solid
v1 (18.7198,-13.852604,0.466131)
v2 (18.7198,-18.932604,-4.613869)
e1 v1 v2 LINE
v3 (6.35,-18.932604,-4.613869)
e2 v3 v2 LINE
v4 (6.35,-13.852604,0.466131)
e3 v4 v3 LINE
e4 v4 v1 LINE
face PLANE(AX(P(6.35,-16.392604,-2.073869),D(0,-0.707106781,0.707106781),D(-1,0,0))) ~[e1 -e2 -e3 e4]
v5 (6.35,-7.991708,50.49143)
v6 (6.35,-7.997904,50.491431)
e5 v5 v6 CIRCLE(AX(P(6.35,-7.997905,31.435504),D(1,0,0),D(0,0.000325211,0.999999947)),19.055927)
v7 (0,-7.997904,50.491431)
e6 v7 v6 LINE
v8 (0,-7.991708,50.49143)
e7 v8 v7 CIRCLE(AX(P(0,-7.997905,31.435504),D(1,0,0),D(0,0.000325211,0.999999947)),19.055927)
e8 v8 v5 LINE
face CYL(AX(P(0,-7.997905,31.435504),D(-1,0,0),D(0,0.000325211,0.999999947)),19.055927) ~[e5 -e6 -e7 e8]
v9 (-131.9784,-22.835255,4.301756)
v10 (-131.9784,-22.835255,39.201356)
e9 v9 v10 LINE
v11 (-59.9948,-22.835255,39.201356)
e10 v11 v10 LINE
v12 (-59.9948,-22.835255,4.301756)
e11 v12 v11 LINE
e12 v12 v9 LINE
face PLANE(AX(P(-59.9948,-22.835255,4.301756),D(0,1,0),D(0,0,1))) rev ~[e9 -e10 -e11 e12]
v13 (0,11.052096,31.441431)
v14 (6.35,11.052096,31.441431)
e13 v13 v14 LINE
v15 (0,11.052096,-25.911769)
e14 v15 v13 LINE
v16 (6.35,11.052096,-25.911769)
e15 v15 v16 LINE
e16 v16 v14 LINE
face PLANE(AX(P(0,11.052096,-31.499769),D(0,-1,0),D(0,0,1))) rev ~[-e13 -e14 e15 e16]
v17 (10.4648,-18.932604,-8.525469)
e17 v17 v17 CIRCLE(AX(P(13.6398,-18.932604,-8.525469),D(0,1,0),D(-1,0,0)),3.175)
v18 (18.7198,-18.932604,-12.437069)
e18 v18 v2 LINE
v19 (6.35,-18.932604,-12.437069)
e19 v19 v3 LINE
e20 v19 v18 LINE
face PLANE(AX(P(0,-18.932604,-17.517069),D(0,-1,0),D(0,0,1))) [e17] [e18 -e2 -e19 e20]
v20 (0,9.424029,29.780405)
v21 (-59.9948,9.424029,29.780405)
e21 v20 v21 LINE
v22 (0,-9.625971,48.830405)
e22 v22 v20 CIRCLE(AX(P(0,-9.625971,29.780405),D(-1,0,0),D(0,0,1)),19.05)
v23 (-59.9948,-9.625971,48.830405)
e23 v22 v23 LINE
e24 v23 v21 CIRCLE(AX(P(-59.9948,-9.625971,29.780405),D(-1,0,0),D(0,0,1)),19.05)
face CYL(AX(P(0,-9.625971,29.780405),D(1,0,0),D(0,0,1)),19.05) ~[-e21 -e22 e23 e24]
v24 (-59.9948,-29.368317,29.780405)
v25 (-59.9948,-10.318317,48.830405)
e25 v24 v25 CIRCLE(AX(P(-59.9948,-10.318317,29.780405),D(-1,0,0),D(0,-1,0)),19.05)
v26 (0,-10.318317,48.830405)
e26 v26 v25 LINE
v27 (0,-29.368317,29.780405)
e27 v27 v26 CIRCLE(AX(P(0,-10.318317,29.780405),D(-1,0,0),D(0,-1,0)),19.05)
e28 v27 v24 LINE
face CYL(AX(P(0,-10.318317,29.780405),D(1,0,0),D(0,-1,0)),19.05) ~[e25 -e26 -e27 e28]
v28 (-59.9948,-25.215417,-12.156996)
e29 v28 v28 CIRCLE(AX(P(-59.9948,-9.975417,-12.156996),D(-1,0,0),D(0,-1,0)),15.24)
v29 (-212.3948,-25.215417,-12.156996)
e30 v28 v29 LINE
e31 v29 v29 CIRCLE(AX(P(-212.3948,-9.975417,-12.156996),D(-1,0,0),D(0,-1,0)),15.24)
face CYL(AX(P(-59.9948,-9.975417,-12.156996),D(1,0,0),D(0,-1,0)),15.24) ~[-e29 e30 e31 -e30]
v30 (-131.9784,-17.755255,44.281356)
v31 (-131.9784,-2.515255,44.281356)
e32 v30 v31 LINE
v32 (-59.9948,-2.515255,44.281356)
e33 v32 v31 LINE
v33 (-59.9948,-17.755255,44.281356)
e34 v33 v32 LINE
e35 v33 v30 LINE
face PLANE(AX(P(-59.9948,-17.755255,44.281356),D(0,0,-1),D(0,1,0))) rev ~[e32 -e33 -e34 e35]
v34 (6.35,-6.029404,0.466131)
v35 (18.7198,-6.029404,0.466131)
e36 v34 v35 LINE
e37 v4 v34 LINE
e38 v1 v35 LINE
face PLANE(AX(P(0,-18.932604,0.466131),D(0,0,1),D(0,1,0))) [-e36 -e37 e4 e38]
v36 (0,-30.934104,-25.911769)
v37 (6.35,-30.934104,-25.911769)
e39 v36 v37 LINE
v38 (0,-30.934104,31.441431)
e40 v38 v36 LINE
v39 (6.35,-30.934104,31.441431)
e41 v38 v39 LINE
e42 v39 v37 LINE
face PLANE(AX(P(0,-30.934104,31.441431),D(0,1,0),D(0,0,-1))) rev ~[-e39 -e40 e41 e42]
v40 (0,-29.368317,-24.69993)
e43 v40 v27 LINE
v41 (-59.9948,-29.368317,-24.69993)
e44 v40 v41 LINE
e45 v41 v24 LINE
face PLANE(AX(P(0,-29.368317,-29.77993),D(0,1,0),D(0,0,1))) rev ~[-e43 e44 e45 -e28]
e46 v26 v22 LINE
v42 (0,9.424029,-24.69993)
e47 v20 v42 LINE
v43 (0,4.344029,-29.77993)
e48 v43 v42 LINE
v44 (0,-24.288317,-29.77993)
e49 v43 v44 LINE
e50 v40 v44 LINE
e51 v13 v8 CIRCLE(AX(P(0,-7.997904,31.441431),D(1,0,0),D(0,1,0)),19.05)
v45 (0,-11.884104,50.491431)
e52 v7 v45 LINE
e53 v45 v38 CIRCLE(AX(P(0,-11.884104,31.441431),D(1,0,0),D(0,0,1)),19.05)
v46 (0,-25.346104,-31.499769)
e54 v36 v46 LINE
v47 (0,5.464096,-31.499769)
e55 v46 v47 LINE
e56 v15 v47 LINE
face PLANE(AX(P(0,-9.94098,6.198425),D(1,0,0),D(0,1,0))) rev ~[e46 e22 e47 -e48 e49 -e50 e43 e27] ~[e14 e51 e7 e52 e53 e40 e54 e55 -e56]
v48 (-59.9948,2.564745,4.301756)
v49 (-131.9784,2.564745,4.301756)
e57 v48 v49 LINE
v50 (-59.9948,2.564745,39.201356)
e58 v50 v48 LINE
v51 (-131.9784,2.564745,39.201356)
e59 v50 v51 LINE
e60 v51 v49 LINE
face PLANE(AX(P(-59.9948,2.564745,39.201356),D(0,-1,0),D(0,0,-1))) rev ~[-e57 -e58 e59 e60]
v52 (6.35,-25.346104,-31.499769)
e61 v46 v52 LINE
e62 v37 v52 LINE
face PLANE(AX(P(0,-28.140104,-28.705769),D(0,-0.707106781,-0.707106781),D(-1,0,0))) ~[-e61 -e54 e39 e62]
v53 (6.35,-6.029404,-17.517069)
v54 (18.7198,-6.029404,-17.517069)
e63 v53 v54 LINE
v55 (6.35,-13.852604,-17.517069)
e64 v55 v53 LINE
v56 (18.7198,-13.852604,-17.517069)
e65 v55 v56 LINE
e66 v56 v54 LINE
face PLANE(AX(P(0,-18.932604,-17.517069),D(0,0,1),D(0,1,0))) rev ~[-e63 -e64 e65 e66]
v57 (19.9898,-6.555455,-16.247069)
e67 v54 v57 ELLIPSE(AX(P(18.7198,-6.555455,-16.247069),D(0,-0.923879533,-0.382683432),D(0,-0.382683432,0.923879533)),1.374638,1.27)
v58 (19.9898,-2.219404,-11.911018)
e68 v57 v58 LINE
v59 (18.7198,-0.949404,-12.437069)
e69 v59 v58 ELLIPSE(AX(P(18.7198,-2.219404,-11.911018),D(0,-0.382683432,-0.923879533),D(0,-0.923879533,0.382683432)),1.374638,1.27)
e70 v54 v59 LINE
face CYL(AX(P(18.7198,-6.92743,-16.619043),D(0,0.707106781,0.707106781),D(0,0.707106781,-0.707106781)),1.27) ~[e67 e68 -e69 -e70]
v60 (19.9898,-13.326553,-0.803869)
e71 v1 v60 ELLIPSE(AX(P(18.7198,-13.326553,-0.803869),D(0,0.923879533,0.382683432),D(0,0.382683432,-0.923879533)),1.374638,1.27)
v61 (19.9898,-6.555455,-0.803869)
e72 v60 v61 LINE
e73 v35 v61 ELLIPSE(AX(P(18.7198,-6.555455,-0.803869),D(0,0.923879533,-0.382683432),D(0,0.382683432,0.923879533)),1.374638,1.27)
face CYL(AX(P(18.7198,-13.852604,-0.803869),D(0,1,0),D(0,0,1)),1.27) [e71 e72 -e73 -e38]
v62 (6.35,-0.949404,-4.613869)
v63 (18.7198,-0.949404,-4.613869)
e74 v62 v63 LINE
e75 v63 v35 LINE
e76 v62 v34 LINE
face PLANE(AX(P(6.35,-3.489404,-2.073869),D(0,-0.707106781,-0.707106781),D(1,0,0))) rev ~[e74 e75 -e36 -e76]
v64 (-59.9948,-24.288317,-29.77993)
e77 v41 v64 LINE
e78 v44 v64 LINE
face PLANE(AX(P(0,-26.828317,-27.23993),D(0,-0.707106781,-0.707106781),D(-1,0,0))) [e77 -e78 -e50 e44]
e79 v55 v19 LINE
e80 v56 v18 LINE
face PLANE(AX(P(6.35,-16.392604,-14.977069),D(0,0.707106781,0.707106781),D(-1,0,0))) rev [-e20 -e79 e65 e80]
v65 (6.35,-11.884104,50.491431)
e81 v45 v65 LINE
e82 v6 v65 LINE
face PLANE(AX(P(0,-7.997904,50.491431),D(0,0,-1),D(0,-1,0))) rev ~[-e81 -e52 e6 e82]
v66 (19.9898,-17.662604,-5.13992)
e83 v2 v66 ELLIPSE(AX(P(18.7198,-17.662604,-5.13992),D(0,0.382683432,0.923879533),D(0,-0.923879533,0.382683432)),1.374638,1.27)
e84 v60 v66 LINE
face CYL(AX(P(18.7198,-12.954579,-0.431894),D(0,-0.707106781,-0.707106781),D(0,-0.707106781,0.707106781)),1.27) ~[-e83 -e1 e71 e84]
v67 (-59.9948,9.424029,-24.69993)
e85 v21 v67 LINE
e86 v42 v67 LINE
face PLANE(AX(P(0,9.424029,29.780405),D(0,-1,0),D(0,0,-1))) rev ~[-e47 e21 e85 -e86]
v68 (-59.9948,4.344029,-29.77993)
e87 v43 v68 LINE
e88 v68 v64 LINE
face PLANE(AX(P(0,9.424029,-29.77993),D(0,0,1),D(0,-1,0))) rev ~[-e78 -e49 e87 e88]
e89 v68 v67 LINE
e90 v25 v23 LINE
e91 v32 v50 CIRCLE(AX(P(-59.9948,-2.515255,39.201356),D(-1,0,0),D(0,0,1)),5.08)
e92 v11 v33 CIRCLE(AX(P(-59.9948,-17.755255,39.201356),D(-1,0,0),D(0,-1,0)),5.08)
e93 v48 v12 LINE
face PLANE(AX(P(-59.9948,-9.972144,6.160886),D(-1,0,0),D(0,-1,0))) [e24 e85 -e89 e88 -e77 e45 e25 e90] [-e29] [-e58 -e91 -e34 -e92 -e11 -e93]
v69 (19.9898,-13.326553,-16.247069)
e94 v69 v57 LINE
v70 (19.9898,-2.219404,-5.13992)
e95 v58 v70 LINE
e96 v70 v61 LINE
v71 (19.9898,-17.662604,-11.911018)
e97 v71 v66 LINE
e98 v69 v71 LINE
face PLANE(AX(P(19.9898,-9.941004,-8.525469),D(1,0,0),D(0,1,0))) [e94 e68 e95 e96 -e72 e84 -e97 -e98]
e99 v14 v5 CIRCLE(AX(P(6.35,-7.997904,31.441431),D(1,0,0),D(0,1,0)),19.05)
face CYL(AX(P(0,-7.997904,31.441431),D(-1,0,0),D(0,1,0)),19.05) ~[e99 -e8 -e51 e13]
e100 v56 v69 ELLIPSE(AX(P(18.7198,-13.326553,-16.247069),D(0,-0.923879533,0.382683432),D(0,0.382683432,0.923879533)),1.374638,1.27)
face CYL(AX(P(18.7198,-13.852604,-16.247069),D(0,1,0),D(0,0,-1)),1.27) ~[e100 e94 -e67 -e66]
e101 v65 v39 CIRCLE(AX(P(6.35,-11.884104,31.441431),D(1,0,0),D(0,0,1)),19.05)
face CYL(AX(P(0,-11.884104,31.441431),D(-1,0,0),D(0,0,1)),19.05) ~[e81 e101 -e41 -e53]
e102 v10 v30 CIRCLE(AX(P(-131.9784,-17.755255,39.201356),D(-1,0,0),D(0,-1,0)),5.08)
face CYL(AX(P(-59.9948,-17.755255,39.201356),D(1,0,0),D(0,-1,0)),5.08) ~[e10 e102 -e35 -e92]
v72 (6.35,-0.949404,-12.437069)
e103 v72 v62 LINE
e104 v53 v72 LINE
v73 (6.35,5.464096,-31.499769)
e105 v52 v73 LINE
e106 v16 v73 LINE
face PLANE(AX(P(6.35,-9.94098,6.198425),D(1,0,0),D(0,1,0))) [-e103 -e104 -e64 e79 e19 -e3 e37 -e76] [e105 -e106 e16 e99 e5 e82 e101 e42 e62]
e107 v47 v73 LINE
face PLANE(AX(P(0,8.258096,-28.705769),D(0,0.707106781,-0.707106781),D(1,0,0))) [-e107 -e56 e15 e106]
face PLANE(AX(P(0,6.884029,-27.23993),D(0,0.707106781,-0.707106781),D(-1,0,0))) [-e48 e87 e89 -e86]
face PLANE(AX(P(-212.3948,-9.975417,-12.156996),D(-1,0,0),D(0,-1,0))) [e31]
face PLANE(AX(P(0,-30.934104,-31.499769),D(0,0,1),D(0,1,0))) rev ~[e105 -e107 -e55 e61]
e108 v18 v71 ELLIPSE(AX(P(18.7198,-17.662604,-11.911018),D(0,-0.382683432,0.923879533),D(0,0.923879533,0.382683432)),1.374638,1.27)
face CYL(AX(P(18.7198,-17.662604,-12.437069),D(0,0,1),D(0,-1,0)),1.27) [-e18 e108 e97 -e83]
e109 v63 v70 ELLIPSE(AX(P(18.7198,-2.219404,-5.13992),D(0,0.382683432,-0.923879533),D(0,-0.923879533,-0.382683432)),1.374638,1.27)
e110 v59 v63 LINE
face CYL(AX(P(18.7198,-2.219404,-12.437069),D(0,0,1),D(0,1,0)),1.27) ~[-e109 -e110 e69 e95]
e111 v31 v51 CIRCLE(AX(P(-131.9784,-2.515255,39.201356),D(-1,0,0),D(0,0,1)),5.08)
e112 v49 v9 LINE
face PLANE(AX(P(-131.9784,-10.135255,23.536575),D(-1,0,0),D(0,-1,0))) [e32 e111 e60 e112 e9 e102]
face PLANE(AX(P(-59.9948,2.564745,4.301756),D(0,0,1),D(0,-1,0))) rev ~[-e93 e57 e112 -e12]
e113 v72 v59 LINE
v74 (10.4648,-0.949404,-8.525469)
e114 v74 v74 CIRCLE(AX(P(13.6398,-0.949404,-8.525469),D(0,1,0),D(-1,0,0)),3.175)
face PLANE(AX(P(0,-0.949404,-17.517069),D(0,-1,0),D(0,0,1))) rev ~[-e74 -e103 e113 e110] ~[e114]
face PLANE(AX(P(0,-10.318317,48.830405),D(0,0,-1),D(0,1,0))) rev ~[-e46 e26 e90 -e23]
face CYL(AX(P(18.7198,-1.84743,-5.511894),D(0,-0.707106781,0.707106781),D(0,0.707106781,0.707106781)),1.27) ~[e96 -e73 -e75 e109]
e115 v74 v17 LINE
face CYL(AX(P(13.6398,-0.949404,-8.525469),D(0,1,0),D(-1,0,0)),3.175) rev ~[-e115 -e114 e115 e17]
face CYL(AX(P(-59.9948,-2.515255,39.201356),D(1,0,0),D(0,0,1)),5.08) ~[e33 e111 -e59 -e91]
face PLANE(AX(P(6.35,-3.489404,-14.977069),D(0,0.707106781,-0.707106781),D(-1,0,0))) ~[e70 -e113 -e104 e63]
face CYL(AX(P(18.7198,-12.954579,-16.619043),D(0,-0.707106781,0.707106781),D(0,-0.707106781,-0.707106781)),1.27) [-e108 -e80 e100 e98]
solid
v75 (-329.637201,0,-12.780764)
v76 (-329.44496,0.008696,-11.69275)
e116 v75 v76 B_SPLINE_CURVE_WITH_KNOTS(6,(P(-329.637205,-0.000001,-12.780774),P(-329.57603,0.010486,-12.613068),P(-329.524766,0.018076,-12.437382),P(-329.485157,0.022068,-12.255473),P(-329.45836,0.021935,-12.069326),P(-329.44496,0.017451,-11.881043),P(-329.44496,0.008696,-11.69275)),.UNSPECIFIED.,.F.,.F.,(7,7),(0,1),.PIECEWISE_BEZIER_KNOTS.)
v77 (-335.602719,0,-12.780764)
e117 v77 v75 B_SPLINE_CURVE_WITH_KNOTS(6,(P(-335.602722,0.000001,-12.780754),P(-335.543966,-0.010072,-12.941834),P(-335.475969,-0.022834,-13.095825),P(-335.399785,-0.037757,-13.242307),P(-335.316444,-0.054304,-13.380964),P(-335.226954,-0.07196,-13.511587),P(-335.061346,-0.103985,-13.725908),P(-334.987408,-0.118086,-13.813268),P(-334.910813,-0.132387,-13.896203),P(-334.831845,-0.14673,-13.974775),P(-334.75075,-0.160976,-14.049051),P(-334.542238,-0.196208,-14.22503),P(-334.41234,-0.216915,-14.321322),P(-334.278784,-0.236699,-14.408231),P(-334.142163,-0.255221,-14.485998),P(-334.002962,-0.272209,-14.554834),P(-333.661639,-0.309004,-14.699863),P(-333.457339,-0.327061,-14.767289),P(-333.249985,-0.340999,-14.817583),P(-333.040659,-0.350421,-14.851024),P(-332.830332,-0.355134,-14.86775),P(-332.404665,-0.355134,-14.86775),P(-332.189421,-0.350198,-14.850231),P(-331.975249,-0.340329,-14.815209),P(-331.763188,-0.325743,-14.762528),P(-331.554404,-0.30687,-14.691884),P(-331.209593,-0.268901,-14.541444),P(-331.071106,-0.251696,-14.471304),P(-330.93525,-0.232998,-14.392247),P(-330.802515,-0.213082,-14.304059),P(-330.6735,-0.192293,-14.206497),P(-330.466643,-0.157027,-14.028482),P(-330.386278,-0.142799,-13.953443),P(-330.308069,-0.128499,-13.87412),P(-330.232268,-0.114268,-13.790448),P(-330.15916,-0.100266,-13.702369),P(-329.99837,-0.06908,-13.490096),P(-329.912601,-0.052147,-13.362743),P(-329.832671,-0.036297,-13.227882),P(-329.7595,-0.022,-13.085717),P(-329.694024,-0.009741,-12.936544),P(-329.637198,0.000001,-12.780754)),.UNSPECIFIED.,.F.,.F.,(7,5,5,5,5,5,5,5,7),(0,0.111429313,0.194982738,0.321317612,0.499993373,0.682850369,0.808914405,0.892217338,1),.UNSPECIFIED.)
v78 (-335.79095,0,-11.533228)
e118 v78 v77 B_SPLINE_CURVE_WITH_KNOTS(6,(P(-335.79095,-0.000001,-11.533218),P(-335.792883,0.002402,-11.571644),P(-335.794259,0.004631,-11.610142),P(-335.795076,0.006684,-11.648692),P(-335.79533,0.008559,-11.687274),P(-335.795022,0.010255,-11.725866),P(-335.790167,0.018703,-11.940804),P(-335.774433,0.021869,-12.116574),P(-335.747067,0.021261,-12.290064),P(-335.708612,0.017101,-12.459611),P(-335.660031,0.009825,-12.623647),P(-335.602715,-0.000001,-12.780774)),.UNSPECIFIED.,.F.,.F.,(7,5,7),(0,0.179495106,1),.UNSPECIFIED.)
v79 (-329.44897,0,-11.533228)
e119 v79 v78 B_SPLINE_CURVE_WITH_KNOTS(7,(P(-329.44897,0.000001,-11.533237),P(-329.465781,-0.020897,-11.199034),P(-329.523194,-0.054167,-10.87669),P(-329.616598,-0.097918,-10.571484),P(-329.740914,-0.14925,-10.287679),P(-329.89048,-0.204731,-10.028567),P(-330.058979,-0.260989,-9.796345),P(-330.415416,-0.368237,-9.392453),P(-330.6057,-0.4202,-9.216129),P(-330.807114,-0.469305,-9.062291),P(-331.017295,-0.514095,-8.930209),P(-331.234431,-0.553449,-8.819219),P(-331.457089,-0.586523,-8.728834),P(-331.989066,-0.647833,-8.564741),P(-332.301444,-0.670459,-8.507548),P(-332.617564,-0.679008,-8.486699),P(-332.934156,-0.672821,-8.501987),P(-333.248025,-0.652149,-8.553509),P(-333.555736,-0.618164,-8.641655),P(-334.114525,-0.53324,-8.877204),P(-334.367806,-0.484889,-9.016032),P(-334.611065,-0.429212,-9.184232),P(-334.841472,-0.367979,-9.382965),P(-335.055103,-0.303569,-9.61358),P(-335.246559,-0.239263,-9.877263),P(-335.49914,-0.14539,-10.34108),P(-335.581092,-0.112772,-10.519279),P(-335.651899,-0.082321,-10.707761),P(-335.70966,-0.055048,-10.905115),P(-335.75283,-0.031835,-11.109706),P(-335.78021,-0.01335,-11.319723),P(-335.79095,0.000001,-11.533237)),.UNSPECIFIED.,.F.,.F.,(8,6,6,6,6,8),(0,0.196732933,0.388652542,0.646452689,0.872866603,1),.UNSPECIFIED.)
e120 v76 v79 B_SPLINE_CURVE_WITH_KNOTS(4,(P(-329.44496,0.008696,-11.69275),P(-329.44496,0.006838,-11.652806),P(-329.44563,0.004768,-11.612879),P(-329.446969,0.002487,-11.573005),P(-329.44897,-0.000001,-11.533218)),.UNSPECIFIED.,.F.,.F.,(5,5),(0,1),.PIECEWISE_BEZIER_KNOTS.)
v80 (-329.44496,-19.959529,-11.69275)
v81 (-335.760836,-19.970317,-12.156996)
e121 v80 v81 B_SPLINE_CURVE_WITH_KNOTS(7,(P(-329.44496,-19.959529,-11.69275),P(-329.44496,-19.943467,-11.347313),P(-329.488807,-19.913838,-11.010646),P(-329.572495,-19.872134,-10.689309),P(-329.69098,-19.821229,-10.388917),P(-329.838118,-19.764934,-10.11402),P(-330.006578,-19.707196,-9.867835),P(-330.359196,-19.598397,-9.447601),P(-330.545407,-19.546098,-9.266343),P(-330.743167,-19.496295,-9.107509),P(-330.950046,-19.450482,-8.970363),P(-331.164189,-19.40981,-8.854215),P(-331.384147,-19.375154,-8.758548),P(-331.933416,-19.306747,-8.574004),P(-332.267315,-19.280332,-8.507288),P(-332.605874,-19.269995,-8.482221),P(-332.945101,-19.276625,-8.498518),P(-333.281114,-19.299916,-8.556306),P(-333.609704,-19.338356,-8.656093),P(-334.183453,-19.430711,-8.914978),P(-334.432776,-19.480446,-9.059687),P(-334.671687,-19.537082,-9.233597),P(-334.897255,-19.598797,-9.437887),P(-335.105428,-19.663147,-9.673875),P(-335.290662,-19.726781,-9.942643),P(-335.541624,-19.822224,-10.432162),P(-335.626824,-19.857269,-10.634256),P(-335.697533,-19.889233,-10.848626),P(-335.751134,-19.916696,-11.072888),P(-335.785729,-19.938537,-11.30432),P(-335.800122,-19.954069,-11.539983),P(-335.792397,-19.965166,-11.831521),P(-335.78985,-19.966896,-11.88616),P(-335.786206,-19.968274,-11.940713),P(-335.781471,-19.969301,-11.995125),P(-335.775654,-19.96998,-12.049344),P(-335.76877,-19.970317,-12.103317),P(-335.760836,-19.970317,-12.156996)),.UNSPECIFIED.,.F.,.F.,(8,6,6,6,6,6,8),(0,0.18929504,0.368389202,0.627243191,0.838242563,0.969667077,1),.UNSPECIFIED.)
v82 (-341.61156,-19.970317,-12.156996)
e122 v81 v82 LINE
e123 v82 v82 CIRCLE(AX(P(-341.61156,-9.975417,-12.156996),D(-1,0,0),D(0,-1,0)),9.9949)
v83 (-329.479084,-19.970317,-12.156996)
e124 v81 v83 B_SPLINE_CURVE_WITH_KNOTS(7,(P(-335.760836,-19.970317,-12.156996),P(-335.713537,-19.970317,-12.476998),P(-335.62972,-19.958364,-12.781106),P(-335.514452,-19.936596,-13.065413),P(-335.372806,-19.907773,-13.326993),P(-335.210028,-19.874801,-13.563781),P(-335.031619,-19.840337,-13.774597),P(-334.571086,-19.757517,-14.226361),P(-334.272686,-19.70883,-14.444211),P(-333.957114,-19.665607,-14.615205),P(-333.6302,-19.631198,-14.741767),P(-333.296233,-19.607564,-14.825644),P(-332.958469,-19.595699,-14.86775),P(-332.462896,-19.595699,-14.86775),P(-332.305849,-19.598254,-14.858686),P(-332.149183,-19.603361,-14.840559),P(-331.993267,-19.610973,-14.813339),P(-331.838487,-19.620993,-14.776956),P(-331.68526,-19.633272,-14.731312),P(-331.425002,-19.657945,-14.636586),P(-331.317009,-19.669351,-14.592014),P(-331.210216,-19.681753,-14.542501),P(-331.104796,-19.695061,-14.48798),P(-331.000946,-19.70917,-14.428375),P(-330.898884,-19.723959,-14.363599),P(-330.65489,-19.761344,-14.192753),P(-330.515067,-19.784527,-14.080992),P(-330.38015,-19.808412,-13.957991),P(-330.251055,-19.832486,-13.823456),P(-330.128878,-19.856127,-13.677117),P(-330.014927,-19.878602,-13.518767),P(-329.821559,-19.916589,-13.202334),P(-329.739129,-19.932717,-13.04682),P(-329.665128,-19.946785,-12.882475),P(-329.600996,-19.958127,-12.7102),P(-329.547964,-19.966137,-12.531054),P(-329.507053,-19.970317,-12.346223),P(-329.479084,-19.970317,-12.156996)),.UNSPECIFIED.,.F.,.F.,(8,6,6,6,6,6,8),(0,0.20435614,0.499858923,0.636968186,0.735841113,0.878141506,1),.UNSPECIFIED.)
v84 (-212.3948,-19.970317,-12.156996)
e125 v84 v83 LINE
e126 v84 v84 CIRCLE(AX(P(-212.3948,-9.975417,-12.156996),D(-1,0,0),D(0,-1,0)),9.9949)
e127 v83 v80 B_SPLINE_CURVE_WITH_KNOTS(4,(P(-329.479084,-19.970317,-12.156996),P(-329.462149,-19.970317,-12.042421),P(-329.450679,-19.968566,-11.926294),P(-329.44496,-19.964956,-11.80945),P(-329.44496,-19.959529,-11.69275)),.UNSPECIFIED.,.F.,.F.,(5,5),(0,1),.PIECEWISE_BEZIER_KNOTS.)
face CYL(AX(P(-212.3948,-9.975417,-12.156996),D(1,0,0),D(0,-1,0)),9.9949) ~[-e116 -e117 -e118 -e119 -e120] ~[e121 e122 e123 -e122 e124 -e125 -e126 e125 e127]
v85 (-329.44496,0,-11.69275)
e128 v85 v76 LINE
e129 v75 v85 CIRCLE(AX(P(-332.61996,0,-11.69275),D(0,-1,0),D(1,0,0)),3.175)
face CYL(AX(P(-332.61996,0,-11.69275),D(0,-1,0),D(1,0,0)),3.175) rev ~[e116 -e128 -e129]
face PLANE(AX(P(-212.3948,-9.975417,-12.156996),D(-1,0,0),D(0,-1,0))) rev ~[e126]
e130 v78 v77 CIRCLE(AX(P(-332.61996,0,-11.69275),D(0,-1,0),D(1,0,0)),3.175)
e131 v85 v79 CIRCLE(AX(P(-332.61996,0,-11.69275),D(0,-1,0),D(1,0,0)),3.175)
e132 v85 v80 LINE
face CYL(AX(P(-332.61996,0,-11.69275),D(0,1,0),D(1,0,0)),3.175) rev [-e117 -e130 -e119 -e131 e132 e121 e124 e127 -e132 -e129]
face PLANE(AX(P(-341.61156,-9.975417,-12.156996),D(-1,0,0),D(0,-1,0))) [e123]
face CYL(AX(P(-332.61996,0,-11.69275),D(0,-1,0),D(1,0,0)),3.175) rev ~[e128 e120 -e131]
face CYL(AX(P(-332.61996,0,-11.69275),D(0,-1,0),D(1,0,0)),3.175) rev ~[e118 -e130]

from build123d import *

# Parameters (mm, degrees)
F0_W      = 17.9832
F0_H      = 17.9832
F1_DEPTH  = 19.9898
F2_DEPTH  = 6.35
F3_SIZE   = 5.08
F4_R      = 3.175
F5_DEPTH  = 29.9857
F6_R      = 1.27
F8_DEPTH  = 59.9948
F9_SIZE   = 5.08
F10_SIZE  = 5.588
F12_DEPTH = 71.9836
F13_R     = 15.24
F14_DEPTH = 152.4
F15_R     = 9.9949
F16_DEPTH = 129.21676
F17_R     = 3.175
F18_DEPTH = 1.6290669181
F19_R     = 3.175
F20_DEPTH = 30.9351041637
F21_DEPTH = 11.0530958363


with BuildPart() as f1:
    # F0 (on Right) → F1 (new body)
    with BuildSketch(Plane.YZ):
        with Locations((-9.9410041637, -8.5254687518)):
            Rectangle(F0_W, F0_H)
    extrude(amount=F1_DEPTH)

    # F0 (on Right) → F2 (join)
    with BuildSketch(Plane.YZ):
        with BuildLine():
            Line((-7.9979041637, 50.4914312482), (-11.8841041637, 50.4914312482))
            ThreePointArc((-11.8841041637, 50.4914312482), (-25.3544883453, 44.9118154298), (-30.9341041637, 31.4414312482))
            Line((-30.9341041637, 31.4414312482), (-30.9341041637, -31.4997687518))
            Line((-30.9341041637, -31.4997687518), (11.0520958363, -31.4997687518))
            Line((11.0520958363, -31.4997687518), (11.0520958363, 31.4414312482))
            ThreePointArc((11.0520958363, 31.4414312482), (5.4746705554, 44.9096245359), (-7.9917078841, 50.4914302405))
            ThreePointArc((-7.9917078841, 50.4914302405), (-7.9948060239, 50.4914309962), (-7.9979041637, 50.4914312482))
        make_face()
        with Locations((-9.9410041637, -8.5254687518)):
            Rectangle(F0_W, F0_H, mode=Mode.SUBTRACT)
    extrude(amount=F2_DEPTH)

    # F3
    f3_edges = [f1.edges().sort_by_distance(p)[0] for p in [
        (13.1699, -18.932604, 0.466131),
        (13.1699, -18.932604, -17.517069),
        (13.1699, -0.949404, -17.517069),
        (13.1699, -0.949404, 0.466131),
    ]]
    chamfer(f3_edges, length=F3_SIZE)

    # F4 (on face) → F5 (cut, through all)
    with BuildSketch(Plane(origin=(0, -0.9494041637, 0), x_dir=(-1, 0, 0), z_dir=(0, 1, 0))):
        with Locations((-13.6398, -8.5254687518)):
            Circle(F4_R)
    extrude(amount=-F5_DEPTH, mode=Mode.SUBTRACT)

    # F6
    f6_edges = [f1.edges().sort_by_distance(p)[0] for p in [
        (19.9898, -9.941004, 0.466131),
        (19.9898, -3.489404, -2.073869),
        (19.9898, -16.392604, -2.073869),
        (19.9898, -0.949404, -8.525469),
        (19.9898, -18.932604, -8.525469),
        (19.9898, -3.489404, -14.977069),
        (19.9898, -16.392604, -14.977069),
        (19.9898, -9.941004, -17.517069),
    ]]
    fillet(f6_edges, radius=F6_R)

    # F7 (on face) → F8 (join)
    with BuildSketch(Plane(origin=(0, 0, 0), x_dir=(0, -1, 0), z_dir=(-1, 0, 0))):
        with BuildLine():
            Line((-9.4240289181, 29.7804048777), (-9.4240289181, -29.7799296677))
            Line((-9.4240289181, -29.7799296677), (29.3683167547, -29.7799296677))
            Line((29.3683167547, -29.7799296677), (29.3683167547, 29.7804048777))
            ThreePointArc((29.3683167547, 29.7804048777), (23.7887009363, 43.2507890593), (10.3183167547, 48.8304048777))
            Line((10.3183167547, 48.8304048777), (9.6259710819, 48.8304048777))
            ThreePointArc((9.6259710819, 48.8304048777), (-3.8444130998, 43.2507890593), (-9.4240289181, 29.7804048777))
        make_face()
    extrude(amount=F8_DEPTH)

    # F9
    f9_edges = [f1.edges().sort_by_distance(p)[0] for p in [
        (-29.9974, 9.424029, -29.77993),
        (-29.9974, -29.368317, -29.77993),
    ]]
    chamfer(f9_edges, length=F9_SIZE)

    # F10
    f10_edges = [f1.edges().sort_by_distance(p)[0] for p in [
        (3.175, -30.934104, -31.499769),
        (3.175, 11.052096, -31.499769),
    ]]
    chamfer(f10_edges, length=F10_SIZE)

    # F11 (on face) → F12 (join)
    with BuildSketch(Plane(origin=(-59.9948, 0, 0), x_dir=(0, -1, 0), z_dir=(-1, 0, 0))):
        with BuildLine():
            Line((-2.5647453316, 39.2013556009), (-2.5647453316, 4.3017556009))
            Line((-2.5647453316, 4.3017556009), (22.8352546684, 4.3017556009))
            Line((22.8352546684, 4.3017556009), (22.8352546684, 39.2013556009))
            ThreePointArc((22.8352546684, 39.2013556009), (21.3473571168, 42.7934580493), (17.7552546684, 44.2813556009))
            Line((17.7552546684, 44.2813556009), (2.5152546684, 44.2813556009))
            ThreePointArc((2.5152546684, 44.2813556009), (-1.07684778, 42.7934580493), (-2.5647453316, 39.2013556009))
        make_face()
    extrude(amount=F12_DEPTH)

    # F13 (on face) → F14 (join)
    with BuildSketch(Plane(origin=(-59.9948, 0, 0), x_dir=(0, -1, 0), z_dir=(-1, 0, 0))):
        with Locations((9.9754167547, -12.1569959447)):
            Circle(F13_R)
    extrude(amount=F14_DEPTH)

    # F17 (on face) → F18 (cut, through all)
    with BuildSketch(Plane(origin=(0, 9.4240289181, 0), x_dir=(-1, 0, 0), z_dir=(0, 1, 0))):
        with Locations((329.44496, -11.3471774384)):
            Circle(F17_R)
    extrude(amount=F18_DEPTH, mode=Mode.SUBTRACT)


with BuildPart() as f16:
    # F15 (on face) → F16 (new body)
    with BuildSketch(Plane(origin=(-212.3948, 0, 0), x_dir=(0, -1, 0), z_dir=(-1, 0, 0))):
        with Locations((9.9754167547, -12.1569959447)):
            Circle(F15_R)
    extrude(amount=F16_DEPTH)

    # F19 (on Front) → F20 (cut, through all)
    with BuildSketch(Plane.XZ):
        with Locations((-332.61996, -11.6927502677)):
            Circle(F19_R)
    extrude(amount=F20_DEPTH, mode=Mode.SUBTRACT)

    # F19 (on Front) → F21 (cut, through all)
    with BuildSketch(Plane.XZ):
        with Locations((-332.61996, -11.6927502677)):
            Circle(F19_R)
    extrude(amount=-F21_DEPTH, mode=Mode.SUBTRACT)


solid = Compound([f1.part, f16.part])
